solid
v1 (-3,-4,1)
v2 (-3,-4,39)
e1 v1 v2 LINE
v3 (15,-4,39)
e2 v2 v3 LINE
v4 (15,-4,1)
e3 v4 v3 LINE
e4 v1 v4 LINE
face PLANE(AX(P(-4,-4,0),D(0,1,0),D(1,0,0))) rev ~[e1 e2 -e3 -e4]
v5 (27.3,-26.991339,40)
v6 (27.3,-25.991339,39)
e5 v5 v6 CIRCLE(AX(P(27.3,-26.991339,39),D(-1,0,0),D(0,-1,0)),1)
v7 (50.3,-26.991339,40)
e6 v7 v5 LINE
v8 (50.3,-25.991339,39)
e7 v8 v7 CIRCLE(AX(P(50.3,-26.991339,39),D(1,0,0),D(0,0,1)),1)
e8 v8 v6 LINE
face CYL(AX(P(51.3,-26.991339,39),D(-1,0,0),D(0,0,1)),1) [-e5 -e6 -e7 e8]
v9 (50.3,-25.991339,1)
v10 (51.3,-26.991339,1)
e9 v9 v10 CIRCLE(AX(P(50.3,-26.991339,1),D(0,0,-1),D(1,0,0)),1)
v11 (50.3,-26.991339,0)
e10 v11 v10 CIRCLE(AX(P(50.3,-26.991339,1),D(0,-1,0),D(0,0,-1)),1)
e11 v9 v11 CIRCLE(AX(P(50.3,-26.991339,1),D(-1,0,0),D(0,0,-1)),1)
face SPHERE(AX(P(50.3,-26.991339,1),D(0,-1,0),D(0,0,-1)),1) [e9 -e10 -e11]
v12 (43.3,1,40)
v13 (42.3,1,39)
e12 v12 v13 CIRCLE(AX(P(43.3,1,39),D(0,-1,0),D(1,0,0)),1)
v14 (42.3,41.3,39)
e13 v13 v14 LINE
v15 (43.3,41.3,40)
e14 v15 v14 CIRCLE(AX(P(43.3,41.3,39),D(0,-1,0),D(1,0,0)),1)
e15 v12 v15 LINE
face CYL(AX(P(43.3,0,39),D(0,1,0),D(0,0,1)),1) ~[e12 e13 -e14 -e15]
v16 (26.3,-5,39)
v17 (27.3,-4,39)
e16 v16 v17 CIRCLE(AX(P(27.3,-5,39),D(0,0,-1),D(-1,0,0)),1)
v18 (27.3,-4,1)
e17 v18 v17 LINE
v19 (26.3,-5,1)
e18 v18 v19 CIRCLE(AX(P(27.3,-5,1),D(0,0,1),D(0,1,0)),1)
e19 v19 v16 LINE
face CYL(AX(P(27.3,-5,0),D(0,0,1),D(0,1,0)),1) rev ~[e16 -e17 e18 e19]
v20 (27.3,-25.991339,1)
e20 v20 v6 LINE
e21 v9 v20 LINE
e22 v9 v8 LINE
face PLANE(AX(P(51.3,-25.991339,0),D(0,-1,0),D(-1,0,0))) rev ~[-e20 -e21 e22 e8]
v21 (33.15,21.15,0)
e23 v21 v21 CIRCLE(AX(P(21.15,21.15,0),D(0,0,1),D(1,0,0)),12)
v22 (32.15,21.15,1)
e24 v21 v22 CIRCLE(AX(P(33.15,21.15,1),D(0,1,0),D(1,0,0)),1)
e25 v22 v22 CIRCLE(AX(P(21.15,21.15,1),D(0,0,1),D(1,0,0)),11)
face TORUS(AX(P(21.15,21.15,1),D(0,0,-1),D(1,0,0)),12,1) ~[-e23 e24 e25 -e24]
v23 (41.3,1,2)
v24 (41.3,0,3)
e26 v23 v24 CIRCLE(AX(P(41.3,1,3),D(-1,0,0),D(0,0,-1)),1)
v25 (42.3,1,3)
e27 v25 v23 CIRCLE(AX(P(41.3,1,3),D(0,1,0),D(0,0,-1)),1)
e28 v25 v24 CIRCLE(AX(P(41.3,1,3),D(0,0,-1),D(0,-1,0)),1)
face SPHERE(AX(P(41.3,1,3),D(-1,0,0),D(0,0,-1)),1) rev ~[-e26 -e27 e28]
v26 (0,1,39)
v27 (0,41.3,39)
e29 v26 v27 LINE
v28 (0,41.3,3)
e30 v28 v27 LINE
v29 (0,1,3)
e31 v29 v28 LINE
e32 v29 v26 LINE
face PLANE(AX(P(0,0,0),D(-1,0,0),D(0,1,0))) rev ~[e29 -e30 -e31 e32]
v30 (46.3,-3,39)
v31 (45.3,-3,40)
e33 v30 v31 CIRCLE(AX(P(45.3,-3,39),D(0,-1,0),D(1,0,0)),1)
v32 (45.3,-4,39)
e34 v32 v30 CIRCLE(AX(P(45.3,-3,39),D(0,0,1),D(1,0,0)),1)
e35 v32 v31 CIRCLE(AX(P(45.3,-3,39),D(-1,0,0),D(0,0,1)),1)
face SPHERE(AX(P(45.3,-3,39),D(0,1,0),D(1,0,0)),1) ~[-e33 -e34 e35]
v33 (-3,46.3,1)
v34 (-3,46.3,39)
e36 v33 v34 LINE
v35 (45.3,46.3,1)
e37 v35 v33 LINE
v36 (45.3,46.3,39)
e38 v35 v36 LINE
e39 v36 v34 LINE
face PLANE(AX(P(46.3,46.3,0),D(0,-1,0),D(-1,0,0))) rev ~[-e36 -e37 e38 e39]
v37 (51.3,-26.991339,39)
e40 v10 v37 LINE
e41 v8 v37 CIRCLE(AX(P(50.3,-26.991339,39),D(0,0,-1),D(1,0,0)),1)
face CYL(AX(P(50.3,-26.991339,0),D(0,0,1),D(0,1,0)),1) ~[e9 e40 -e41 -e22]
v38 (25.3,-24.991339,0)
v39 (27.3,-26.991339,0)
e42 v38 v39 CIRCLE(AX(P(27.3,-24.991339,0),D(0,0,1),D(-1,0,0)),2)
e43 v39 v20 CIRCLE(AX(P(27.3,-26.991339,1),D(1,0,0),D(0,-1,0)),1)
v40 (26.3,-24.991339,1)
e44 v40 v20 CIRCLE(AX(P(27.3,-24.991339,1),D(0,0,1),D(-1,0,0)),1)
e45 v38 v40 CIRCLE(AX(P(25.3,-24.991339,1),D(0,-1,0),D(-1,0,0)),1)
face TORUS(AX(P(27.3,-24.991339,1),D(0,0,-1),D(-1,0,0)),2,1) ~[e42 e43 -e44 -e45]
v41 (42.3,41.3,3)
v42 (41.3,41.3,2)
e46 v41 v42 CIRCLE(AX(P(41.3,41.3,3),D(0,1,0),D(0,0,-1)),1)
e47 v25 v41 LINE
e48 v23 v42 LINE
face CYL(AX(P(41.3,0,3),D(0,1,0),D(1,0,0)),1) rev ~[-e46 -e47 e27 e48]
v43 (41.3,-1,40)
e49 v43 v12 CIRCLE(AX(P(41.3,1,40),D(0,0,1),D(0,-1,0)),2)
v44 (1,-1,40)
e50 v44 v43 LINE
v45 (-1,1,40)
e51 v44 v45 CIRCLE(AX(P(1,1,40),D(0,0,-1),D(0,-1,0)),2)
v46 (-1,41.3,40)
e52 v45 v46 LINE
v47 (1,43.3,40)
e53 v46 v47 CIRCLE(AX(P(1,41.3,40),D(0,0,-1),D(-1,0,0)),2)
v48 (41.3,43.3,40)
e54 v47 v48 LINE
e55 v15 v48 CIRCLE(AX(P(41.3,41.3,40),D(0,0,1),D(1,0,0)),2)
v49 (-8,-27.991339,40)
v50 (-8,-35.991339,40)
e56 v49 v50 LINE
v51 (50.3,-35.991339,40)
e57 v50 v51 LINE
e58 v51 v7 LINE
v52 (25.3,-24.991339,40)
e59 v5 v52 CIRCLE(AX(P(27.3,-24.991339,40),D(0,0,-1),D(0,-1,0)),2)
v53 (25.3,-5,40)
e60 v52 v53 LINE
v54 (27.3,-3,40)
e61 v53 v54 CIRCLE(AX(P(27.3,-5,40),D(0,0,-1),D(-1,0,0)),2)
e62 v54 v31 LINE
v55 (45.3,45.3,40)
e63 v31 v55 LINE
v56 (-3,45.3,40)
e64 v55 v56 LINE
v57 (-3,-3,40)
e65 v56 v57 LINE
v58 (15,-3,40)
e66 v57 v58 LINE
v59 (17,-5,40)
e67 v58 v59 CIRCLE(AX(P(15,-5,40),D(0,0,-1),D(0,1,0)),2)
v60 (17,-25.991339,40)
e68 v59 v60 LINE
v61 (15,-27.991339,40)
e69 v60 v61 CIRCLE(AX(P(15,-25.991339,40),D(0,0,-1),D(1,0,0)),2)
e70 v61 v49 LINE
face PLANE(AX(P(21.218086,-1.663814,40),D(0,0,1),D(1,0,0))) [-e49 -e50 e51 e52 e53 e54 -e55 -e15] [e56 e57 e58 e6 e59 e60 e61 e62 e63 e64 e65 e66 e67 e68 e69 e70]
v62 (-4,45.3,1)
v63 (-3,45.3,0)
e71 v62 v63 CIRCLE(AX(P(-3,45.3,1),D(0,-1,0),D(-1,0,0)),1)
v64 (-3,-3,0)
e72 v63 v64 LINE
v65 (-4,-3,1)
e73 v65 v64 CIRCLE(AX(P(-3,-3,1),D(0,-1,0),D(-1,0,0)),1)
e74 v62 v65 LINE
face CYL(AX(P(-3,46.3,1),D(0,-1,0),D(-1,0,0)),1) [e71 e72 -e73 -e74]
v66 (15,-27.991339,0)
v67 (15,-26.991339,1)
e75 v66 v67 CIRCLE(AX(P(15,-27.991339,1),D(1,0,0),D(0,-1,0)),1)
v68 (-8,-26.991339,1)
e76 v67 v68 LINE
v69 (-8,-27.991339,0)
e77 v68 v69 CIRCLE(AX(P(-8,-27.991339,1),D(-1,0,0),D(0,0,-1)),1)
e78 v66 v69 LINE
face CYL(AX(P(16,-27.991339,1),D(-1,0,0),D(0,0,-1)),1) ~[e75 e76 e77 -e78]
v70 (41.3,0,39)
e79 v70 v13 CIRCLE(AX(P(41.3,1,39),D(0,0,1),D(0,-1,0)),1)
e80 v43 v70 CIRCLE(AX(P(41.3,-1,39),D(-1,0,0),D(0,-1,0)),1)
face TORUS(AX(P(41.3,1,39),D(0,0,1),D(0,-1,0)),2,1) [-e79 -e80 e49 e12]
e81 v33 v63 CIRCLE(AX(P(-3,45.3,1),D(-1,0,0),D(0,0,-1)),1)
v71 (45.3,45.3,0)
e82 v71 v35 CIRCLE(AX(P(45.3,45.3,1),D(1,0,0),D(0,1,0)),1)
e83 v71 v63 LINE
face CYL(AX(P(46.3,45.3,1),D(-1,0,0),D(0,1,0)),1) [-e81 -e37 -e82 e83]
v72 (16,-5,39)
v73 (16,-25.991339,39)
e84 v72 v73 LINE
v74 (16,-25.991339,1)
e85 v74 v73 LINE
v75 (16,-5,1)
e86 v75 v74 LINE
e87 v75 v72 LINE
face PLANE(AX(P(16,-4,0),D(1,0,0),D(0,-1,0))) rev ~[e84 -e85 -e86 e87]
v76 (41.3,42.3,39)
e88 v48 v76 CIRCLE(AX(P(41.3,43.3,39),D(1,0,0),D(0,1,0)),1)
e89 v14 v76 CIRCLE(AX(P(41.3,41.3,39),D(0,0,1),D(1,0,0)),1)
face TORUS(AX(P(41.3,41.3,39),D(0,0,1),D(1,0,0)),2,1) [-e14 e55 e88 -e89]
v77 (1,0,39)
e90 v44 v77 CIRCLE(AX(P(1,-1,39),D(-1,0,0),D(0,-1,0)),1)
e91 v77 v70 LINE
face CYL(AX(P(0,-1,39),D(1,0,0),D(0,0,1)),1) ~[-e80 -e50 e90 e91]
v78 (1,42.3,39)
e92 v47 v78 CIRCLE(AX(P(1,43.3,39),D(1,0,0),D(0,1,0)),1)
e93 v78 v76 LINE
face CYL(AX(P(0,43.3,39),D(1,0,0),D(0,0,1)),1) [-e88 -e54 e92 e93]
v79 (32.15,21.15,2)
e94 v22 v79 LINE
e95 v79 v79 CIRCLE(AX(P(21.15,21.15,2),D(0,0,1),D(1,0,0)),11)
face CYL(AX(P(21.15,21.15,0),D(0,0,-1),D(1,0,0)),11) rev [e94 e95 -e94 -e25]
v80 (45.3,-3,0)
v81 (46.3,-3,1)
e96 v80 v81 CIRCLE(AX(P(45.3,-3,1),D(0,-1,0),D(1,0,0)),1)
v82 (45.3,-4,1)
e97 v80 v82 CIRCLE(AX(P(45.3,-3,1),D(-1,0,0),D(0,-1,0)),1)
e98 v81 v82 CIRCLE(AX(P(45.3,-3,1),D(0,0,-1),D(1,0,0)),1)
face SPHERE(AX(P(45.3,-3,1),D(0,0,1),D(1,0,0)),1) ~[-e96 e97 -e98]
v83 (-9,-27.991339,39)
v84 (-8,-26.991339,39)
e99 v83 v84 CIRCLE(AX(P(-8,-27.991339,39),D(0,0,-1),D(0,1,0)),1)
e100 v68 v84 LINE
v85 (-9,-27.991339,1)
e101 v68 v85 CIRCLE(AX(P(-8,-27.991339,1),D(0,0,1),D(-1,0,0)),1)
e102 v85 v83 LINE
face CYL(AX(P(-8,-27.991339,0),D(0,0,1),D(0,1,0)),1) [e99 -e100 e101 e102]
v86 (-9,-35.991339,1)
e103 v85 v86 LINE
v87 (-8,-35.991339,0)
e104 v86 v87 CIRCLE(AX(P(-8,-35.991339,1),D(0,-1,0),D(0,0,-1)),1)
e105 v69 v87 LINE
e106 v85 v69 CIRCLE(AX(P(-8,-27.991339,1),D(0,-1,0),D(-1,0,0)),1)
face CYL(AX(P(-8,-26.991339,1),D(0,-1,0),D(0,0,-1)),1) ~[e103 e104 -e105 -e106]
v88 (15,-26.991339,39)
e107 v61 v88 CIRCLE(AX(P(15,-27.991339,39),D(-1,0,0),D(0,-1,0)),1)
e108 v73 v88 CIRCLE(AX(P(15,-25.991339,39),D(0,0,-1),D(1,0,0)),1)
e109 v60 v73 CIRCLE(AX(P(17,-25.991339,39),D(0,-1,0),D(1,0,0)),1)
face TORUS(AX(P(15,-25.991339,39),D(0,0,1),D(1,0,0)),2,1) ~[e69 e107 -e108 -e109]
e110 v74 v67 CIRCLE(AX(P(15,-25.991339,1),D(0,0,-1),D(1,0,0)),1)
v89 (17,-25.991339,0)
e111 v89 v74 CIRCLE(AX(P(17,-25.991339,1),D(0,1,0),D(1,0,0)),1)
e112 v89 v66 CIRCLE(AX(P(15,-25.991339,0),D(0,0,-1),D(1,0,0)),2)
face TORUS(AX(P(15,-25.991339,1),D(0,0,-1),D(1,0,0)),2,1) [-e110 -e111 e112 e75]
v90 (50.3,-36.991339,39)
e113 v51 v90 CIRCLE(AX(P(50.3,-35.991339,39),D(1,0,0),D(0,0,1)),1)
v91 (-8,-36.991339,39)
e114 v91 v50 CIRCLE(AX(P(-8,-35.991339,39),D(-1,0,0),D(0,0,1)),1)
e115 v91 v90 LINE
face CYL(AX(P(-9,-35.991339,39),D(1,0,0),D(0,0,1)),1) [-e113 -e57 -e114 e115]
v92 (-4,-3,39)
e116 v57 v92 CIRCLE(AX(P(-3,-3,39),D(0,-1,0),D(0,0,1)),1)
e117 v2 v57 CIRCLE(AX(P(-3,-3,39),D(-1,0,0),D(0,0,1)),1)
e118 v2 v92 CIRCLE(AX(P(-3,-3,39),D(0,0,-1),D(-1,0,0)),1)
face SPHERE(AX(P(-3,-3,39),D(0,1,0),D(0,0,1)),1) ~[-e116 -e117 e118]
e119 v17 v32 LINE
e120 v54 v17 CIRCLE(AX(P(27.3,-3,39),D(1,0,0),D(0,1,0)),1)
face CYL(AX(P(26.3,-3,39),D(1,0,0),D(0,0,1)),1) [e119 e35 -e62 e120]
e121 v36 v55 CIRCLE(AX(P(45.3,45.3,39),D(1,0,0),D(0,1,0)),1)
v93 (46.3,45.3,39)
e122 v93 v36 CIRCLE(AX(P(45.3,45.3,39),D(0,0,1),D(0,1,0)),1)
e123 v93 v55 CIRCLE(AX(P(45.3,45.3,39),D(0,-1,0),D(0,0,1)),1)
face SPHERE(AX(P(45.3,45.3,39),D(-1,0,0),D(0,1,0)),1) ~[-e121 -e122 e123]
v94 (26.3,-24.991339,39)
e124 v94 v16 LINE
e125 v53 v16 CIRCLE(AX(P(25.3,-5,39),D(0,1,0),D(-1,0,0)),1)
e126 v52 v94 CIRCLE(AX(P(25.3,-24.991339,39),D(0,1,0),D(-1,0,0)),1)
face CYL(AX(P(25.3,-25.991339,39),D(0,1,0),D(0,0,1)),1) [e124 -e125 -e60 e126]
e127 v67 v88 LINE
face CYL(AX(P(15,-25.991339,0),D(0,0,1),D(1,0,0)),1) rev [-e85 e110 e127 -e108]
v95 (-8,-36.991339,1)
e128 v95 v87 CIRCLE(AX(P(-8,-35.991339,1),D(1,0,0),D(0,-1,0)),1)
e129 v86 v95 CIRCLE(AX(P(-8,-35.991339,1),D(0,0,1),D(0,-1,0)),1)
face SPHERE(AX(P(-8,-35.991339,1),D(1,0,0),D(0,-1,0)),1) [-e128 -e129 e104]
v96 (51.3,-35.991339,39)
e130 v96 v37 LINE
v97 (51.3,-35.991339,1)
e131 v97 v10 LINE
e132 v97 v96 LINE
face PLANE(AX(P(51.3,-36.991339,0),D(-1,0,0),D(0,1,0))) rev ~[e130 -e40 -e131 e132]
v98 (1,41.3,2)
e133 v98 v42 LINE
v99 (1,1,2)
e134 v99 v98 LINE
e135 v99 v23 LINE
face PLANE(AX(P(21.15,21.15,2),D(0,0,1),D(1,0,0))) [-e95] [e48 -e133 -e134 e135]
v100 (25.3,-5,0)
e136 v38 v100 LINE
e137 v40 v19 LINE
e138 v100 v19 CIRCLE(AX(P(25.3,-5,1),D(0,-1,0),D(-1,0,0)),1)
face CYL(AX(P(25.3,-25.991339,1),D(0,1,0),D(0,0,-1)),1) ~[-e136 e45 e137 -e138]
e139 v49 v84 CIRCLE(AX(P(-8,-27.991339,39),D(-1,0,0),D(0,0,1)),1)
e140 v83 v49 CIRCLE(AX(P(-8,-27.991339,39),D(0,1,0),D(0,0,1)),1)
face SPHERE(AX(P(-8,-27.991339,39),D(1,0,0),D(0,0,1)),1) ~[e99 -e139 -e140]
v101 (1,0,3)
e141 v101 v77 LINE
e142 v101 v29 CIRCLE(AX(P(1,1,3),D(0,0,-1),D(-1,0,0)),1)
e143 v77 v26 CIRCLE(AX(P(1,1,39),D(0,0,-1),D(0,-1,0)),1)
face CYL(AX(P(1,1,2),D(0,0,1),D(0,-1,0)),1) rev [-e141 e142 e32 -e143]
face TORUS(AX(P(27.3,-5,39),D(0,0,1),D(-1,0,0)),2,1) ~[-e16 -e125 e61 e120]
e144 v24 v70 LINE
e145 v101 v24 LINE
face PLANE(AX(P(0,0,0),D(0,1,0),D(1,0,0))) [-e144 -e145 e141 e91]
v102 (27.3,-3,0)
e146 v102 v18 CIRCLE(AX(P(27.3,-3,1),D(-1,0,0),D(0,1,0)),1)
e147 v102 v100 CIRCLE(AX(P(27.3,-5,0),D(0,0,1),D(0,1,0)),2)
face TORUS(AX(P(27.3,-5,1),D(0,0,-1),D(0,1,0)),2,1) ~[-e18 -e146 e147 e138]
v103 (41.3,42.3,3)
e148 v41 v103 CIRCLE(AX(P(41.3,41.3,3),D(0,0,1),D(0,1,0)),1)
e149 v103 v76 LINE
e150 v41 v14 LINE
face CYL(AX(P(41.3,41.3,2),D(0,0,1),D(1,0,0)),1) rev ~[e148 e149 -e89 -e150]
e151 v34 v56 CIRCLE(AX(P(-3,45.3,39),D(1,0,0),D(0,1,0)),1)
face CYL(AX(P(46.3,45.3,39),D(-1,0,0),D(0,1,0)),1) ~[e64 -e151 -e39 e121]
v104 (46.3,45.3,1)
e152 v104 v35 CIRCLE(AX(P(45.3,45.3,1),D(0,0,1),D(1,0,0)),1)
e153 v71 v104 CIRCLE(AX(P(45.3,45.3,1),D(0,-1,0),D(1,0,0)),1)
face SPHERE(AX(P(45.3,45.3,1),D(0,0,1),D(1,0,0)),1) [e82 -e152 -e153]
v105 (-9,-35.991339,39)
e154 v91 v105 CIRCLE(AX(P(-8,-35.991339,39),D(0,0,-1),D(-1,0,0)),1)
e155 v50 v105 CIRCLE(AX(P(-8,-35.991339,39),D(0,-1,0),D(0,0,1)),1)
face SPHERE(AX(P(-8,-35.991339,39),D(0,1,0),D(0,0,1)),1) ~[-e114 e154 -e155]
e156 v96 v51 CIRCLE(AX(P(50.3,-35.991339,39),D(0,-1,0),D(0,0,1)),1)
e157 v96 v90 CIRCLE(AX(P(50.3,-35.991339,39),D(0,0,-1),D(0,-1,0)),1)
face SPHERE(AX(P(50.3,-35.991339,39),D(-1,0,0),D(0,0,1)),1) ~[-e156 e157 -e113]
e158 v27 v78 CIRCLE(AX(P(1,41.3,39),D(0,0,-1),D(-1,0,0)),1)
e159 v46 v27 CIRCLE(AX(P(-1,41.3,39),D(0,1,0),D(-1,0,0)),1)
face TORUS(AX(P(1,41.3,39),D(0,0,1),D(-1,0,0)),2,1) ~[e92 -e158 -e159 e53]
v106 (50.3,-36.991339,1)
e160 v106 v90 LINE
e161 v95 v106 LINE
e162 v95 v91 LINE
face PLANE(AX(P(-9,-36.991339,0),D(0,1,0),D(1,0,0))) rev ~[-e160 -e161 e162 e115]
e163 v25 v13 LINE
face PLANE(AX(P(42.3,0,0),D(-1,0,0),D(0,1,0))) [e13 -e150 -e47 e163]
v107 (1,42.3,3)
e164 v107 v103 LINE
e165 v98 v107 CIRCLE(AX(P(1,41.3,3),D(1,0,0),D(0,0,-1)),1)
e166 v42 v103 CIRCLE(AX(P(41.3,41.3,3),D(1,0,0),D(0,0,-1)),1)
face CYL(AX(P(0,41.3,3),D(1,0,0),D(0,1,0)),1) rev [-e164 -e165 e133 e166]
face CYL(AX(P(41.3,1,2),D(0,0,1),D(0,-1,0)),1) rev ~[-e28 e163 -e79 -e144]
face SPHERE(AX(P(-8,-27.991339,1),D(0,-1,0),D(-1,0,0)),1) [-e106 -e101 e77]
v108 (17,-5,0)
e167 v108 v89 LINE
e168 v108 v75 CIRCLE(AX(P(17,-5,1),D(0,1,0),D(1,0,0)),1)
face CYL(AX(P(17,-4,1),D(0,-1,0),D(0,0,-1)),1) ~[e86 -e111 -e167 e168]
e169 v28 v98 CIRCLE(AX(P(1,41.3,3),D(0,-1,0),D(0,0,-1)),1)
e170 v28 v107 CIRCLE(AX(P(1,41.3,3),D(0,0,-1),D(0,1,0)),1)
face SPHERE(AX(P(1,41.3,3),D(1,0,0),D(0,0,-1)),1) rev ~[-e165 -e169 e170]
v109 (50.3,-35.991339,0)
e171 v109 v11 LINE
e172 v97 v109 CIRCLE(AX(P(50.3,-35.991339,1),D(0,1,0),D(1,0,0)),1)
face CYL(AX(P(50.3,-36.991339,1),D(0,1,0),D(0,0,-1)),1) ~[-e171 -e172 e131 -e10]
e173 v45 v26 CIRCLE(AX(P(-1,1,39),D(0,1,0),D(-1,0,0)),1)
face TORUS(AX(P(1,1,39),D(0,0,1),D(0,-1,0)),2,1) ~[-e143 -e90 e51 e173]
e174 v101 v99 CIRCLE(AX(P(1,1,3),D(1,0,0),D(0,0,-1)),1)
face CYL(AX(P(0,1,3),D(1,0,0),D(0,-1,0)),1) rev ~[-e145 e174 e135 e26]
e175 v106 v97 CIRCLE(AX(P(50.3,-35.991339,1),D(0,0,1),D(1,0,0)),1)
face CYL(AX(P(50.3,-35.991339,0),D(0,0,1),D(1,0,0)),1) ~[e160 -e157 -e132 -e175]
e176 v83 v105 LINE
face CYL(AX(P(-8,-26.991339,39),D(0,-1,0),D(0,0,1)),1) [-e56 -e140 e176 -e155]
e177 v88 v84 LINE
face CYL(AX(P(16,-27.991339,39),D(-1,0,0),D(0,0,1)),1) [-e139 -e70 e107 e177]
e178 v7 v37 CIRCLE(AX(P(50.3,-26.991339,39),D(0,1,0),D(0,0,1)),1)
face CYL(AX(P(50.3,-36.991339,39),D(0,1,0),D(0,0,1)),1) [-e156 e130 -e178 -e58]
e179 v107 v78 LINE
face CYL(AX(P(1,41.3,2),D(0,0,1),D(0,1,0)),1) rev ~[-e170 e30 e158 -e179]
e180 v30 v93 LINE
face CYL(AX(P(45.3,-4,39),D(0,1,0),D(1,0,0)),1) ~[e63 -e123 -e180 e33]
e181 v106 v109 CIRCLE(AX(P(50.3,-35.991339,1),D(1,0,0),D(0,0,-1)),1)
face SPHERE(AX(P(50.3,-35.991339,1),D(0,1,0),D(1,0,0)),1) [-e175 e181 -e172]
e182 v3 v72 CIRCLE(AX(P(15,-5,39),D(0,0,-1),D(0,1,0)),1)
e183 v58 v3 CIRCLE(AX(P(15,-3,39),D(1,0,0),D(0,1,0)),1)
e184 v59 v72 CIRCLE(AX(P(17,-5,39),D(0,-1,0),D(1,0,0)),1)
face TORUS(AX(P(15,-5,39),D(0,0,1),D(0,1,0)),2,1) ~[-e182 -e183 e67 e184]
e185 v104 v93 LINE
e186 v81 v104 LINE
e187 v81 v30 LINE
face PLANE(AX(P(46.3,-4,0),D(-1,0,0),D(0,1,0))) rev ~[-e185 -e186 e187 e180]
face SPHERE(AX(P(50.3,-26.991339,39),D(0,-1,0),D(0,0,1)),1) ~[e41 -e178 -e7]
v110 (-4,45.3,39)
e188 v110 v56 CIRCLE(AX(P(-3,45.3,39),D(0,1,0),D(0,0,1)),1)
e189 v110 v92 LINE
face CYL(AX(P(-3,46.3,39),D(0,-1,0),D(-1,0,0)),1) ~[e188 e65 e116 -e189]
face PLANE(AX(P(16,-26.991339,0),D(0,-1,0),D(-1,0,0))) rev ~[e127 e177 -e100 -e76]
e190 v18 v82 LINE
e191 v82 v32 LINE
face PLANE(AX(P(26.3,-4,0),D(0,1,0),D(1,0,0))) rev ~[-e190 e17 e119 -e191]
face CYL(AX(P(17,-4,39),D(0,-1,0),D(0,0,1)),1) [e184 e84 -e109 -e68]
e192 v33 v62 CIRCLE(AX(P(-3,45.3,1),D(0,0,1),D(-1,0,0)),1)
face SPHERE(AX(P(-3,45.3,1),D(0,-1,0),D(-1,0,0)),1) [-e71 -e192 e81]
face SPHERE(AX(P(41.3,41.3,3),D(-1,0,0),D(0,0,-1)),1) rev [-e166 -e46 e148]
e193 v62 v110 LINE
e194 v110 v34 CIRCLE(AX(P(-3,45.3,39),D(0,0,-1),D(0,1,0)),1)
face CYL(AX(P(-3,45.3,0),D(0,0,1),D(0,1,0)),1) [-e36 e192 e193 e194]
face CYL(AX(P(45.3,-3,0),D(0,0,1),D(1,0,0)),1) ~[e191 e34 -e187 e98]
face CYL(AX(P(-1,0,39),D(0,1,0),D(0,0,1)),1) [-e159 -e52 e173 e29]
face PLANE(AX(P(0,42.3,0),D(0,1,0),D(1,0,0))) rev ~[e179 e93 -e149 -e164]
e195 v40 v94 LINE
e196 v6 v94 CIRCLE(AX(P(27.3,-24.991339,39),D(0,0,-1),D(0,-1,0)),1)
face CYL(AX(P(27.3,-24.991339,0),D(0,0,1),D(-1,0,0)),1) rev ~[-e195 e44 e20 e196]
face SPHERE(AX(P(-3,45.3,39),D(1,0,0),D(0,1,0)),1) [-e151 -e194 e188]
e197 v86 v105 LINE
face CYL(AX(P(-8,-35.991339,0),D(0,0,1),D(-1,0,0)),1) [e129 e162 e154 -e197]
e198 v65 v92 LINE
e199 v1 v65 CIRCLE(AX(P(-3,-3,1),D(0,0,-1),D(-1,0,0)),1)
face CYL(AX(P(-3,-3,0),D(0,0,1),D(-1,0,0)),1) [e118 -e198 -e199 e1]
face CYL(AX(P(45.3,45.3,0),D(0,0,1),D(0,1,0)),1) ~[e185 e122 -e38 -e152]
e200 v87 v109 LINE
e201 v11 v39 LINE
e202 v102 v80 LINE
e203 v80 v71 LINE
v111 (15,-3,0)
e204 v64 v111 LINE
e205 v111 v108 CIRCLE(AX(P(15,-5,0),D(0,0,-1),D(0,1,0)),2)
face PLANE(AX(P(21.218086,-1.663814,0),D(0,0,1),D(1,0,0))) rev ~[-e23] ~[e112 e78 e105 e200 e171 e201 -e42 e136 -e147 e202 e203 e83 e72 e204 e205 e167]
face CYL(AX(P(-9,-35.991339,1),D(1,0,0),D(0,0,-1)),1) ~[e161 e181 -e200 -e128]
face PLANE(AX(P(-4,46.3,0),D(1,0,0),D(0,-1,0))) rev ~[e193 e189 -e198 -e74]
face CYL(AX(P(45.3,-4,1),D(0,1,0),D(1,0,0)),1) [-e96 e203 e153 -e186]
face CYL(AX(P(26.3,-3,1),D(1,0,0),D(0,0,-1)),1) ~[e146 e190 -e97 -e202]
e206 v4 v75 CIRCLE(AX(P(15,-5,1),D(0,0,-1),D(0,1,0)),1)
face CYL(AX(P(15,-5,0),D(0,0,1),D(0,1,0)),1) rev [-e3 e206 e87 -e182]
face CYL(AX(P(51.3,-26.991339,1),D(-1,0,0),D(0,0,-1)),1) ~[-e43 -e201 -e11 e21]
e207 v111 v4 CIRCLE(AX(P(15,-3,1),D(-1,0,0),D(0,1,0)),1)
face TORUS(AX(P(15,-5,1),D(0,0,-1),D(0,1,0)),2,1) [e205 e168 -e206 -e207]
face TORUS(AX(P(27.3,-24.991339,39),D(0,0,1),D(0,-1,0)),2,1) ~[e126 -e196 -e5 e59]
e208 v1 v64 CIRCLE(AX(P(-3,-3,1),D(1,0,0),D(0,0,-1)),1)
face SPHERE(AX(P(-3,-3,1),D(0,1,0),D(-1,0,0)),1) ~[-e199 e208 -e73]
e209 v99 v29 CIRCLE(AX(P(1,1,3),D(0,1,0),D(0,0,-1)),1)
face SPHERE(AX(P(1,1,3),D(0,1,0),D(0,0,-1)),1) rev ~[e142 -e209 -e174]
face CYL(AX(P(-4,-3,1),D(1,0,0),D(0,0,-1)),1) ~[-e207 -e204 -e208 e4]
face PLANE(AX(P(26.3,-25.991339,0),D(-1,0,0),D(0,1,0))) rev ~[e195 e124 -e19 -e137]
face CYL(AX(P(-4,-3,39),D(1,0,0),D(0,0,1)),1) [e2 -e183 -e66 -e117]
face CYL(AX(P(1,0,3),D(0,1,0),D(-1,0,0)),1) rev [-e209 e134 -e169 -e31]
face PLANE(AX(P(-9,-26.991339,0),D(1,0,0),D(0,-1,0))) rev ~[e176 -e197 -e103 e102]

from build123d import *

# Parameters (mm, degrees)
SKETCH1_W               = 42.3
SKETCH1_H               = 42.3
BOSS_EXTRUDE2_DEPTH     = 2
SKETCH1_5_W             = 42.3
SKETCH1_5_H             = 42.3
BOSS_EXTRUDE3_DEPTH     = 40
SKETCH1_6_R             = 11
CUT_EXTRUDE2_DEPTH      = 2
CUT_EXTRUDE2_DEPTH_BACK = 1
FILLET1_R               = 1


with BuildPart() as part:
    # Sketch1 → Boss-Extrude2 (new body)
    with BuildSketch(Plane.XY):
        with Locations((21.15, 21.15)):
            Rectangle(SKETCH1_W, SKETCH1_H)
    extrude(amount=BOSS_EXTRUDE2_DEPTH)

    # Sketch1<5> → Boss-Extrude3 (add)
    with BuildSketch(Plane.XY):
        Polygon((46.3, 46.3), (-4, 46.3), (-4, -4), (16, -4), (16, -26.99133885), (-9, -26.99133885), (-9, -36.99133885), (51.3, -36.99133885), (51.3, -25.99133885), (26.3, -25.99133885), (26.3, -4), (46.3, -4), align=None)
        with Locations((21.15, 21.15)):
            Rectangle(SKETCH1_5_W, SKETCH1_5_H, mode=Mode.SUBTRACT)
    extrude(amount=BOSS_EXTRUDE3_DEPTH)

    # Sketch1<6> → Cut-Extrude2 (cut, two sides)
    with BuildSketch(Plane.XY) as cut_extrude2_sk:
        with Locations((21.15, 21.15)):
            Circle(SKETCH1_6_R)
    extrude(amount=CUT_EXTRUDE2_DEPTH, mode=Mode.SUBTRACT)
    extrude(cut_extrude2_sk.sketch, amount=-CUT_EXTRUDE2_DEPTH_BACK, mode=Mode.SUBTRACT)

    # Fillet1
    fillet1_edges = [part.edges().sort_by_distance(p)[0] for p in [
        (10.15, 21.15, 0),
        (21.15, 42.3, 2),
        (0, 21.15, 2),
        (21.15, 0, 2),
        (42.3, 21.15, 2),
        (21.15, 46.3, 40),
        (46.3, 46.3, 20),
        (0, 0, 21),
        (42.3, 0, 21),
        (21.15, 0, 40),
        (42.3, 42.3, 21),
        (42.3, 21.15, 40),
        (0, 42.3, 21),
        (-4, 21.15, 0),
        (-4, 46.3, 20),
        (46.3, 21.15, 40),
        (46.3, -4, 20),
        (46.3, 21.15, 0),
        (26.3, -14.995669425, 0),
        (21.15, 46.3, 0),
        (0, 21.15, 40),
        (21.15, 42.3, 40),
        (-4, 21.15, 40),
        (6, -4, 40),
        (16, -15.495669425, 40),
        (3.5, -26.99133885, 40),
        (-9, -31.99133885, 40),
        (21.15, -36.99133885, 40),
        (51.3, -31.49133885, 40),
        (38.8, -25.99133885, 40),
        (36.3, -4, 40),
        (26.3, -4, 20),
        (36.3, -4, 0),
        (-4, -4, 20),
        (6, -4, 0),
        (51.3, -31.49133885, 0),
        (51.3, -36.99133885, 20),
        (21.15, -36.99133885, 0),
        (-9, -36.99133885, 20),
        (-9, -31.99133885, 0),
        (-9, -26.99133885, 20),
        (3.5, -26.99133885, 0),
        (16, -26.99133885, 20),
        (38.8, -25.99133885, 0),
        (51.3, -25.99133885, 20),
        (26.3, -14.995669425, 40),
        (26.3, -25.99133885, 20),
        (16, -15.495669425, 0),
        (16, -4, 20),
    ]]
    fillet(fillet1_edges, radius=FILLET1_R)


solid = part.part
